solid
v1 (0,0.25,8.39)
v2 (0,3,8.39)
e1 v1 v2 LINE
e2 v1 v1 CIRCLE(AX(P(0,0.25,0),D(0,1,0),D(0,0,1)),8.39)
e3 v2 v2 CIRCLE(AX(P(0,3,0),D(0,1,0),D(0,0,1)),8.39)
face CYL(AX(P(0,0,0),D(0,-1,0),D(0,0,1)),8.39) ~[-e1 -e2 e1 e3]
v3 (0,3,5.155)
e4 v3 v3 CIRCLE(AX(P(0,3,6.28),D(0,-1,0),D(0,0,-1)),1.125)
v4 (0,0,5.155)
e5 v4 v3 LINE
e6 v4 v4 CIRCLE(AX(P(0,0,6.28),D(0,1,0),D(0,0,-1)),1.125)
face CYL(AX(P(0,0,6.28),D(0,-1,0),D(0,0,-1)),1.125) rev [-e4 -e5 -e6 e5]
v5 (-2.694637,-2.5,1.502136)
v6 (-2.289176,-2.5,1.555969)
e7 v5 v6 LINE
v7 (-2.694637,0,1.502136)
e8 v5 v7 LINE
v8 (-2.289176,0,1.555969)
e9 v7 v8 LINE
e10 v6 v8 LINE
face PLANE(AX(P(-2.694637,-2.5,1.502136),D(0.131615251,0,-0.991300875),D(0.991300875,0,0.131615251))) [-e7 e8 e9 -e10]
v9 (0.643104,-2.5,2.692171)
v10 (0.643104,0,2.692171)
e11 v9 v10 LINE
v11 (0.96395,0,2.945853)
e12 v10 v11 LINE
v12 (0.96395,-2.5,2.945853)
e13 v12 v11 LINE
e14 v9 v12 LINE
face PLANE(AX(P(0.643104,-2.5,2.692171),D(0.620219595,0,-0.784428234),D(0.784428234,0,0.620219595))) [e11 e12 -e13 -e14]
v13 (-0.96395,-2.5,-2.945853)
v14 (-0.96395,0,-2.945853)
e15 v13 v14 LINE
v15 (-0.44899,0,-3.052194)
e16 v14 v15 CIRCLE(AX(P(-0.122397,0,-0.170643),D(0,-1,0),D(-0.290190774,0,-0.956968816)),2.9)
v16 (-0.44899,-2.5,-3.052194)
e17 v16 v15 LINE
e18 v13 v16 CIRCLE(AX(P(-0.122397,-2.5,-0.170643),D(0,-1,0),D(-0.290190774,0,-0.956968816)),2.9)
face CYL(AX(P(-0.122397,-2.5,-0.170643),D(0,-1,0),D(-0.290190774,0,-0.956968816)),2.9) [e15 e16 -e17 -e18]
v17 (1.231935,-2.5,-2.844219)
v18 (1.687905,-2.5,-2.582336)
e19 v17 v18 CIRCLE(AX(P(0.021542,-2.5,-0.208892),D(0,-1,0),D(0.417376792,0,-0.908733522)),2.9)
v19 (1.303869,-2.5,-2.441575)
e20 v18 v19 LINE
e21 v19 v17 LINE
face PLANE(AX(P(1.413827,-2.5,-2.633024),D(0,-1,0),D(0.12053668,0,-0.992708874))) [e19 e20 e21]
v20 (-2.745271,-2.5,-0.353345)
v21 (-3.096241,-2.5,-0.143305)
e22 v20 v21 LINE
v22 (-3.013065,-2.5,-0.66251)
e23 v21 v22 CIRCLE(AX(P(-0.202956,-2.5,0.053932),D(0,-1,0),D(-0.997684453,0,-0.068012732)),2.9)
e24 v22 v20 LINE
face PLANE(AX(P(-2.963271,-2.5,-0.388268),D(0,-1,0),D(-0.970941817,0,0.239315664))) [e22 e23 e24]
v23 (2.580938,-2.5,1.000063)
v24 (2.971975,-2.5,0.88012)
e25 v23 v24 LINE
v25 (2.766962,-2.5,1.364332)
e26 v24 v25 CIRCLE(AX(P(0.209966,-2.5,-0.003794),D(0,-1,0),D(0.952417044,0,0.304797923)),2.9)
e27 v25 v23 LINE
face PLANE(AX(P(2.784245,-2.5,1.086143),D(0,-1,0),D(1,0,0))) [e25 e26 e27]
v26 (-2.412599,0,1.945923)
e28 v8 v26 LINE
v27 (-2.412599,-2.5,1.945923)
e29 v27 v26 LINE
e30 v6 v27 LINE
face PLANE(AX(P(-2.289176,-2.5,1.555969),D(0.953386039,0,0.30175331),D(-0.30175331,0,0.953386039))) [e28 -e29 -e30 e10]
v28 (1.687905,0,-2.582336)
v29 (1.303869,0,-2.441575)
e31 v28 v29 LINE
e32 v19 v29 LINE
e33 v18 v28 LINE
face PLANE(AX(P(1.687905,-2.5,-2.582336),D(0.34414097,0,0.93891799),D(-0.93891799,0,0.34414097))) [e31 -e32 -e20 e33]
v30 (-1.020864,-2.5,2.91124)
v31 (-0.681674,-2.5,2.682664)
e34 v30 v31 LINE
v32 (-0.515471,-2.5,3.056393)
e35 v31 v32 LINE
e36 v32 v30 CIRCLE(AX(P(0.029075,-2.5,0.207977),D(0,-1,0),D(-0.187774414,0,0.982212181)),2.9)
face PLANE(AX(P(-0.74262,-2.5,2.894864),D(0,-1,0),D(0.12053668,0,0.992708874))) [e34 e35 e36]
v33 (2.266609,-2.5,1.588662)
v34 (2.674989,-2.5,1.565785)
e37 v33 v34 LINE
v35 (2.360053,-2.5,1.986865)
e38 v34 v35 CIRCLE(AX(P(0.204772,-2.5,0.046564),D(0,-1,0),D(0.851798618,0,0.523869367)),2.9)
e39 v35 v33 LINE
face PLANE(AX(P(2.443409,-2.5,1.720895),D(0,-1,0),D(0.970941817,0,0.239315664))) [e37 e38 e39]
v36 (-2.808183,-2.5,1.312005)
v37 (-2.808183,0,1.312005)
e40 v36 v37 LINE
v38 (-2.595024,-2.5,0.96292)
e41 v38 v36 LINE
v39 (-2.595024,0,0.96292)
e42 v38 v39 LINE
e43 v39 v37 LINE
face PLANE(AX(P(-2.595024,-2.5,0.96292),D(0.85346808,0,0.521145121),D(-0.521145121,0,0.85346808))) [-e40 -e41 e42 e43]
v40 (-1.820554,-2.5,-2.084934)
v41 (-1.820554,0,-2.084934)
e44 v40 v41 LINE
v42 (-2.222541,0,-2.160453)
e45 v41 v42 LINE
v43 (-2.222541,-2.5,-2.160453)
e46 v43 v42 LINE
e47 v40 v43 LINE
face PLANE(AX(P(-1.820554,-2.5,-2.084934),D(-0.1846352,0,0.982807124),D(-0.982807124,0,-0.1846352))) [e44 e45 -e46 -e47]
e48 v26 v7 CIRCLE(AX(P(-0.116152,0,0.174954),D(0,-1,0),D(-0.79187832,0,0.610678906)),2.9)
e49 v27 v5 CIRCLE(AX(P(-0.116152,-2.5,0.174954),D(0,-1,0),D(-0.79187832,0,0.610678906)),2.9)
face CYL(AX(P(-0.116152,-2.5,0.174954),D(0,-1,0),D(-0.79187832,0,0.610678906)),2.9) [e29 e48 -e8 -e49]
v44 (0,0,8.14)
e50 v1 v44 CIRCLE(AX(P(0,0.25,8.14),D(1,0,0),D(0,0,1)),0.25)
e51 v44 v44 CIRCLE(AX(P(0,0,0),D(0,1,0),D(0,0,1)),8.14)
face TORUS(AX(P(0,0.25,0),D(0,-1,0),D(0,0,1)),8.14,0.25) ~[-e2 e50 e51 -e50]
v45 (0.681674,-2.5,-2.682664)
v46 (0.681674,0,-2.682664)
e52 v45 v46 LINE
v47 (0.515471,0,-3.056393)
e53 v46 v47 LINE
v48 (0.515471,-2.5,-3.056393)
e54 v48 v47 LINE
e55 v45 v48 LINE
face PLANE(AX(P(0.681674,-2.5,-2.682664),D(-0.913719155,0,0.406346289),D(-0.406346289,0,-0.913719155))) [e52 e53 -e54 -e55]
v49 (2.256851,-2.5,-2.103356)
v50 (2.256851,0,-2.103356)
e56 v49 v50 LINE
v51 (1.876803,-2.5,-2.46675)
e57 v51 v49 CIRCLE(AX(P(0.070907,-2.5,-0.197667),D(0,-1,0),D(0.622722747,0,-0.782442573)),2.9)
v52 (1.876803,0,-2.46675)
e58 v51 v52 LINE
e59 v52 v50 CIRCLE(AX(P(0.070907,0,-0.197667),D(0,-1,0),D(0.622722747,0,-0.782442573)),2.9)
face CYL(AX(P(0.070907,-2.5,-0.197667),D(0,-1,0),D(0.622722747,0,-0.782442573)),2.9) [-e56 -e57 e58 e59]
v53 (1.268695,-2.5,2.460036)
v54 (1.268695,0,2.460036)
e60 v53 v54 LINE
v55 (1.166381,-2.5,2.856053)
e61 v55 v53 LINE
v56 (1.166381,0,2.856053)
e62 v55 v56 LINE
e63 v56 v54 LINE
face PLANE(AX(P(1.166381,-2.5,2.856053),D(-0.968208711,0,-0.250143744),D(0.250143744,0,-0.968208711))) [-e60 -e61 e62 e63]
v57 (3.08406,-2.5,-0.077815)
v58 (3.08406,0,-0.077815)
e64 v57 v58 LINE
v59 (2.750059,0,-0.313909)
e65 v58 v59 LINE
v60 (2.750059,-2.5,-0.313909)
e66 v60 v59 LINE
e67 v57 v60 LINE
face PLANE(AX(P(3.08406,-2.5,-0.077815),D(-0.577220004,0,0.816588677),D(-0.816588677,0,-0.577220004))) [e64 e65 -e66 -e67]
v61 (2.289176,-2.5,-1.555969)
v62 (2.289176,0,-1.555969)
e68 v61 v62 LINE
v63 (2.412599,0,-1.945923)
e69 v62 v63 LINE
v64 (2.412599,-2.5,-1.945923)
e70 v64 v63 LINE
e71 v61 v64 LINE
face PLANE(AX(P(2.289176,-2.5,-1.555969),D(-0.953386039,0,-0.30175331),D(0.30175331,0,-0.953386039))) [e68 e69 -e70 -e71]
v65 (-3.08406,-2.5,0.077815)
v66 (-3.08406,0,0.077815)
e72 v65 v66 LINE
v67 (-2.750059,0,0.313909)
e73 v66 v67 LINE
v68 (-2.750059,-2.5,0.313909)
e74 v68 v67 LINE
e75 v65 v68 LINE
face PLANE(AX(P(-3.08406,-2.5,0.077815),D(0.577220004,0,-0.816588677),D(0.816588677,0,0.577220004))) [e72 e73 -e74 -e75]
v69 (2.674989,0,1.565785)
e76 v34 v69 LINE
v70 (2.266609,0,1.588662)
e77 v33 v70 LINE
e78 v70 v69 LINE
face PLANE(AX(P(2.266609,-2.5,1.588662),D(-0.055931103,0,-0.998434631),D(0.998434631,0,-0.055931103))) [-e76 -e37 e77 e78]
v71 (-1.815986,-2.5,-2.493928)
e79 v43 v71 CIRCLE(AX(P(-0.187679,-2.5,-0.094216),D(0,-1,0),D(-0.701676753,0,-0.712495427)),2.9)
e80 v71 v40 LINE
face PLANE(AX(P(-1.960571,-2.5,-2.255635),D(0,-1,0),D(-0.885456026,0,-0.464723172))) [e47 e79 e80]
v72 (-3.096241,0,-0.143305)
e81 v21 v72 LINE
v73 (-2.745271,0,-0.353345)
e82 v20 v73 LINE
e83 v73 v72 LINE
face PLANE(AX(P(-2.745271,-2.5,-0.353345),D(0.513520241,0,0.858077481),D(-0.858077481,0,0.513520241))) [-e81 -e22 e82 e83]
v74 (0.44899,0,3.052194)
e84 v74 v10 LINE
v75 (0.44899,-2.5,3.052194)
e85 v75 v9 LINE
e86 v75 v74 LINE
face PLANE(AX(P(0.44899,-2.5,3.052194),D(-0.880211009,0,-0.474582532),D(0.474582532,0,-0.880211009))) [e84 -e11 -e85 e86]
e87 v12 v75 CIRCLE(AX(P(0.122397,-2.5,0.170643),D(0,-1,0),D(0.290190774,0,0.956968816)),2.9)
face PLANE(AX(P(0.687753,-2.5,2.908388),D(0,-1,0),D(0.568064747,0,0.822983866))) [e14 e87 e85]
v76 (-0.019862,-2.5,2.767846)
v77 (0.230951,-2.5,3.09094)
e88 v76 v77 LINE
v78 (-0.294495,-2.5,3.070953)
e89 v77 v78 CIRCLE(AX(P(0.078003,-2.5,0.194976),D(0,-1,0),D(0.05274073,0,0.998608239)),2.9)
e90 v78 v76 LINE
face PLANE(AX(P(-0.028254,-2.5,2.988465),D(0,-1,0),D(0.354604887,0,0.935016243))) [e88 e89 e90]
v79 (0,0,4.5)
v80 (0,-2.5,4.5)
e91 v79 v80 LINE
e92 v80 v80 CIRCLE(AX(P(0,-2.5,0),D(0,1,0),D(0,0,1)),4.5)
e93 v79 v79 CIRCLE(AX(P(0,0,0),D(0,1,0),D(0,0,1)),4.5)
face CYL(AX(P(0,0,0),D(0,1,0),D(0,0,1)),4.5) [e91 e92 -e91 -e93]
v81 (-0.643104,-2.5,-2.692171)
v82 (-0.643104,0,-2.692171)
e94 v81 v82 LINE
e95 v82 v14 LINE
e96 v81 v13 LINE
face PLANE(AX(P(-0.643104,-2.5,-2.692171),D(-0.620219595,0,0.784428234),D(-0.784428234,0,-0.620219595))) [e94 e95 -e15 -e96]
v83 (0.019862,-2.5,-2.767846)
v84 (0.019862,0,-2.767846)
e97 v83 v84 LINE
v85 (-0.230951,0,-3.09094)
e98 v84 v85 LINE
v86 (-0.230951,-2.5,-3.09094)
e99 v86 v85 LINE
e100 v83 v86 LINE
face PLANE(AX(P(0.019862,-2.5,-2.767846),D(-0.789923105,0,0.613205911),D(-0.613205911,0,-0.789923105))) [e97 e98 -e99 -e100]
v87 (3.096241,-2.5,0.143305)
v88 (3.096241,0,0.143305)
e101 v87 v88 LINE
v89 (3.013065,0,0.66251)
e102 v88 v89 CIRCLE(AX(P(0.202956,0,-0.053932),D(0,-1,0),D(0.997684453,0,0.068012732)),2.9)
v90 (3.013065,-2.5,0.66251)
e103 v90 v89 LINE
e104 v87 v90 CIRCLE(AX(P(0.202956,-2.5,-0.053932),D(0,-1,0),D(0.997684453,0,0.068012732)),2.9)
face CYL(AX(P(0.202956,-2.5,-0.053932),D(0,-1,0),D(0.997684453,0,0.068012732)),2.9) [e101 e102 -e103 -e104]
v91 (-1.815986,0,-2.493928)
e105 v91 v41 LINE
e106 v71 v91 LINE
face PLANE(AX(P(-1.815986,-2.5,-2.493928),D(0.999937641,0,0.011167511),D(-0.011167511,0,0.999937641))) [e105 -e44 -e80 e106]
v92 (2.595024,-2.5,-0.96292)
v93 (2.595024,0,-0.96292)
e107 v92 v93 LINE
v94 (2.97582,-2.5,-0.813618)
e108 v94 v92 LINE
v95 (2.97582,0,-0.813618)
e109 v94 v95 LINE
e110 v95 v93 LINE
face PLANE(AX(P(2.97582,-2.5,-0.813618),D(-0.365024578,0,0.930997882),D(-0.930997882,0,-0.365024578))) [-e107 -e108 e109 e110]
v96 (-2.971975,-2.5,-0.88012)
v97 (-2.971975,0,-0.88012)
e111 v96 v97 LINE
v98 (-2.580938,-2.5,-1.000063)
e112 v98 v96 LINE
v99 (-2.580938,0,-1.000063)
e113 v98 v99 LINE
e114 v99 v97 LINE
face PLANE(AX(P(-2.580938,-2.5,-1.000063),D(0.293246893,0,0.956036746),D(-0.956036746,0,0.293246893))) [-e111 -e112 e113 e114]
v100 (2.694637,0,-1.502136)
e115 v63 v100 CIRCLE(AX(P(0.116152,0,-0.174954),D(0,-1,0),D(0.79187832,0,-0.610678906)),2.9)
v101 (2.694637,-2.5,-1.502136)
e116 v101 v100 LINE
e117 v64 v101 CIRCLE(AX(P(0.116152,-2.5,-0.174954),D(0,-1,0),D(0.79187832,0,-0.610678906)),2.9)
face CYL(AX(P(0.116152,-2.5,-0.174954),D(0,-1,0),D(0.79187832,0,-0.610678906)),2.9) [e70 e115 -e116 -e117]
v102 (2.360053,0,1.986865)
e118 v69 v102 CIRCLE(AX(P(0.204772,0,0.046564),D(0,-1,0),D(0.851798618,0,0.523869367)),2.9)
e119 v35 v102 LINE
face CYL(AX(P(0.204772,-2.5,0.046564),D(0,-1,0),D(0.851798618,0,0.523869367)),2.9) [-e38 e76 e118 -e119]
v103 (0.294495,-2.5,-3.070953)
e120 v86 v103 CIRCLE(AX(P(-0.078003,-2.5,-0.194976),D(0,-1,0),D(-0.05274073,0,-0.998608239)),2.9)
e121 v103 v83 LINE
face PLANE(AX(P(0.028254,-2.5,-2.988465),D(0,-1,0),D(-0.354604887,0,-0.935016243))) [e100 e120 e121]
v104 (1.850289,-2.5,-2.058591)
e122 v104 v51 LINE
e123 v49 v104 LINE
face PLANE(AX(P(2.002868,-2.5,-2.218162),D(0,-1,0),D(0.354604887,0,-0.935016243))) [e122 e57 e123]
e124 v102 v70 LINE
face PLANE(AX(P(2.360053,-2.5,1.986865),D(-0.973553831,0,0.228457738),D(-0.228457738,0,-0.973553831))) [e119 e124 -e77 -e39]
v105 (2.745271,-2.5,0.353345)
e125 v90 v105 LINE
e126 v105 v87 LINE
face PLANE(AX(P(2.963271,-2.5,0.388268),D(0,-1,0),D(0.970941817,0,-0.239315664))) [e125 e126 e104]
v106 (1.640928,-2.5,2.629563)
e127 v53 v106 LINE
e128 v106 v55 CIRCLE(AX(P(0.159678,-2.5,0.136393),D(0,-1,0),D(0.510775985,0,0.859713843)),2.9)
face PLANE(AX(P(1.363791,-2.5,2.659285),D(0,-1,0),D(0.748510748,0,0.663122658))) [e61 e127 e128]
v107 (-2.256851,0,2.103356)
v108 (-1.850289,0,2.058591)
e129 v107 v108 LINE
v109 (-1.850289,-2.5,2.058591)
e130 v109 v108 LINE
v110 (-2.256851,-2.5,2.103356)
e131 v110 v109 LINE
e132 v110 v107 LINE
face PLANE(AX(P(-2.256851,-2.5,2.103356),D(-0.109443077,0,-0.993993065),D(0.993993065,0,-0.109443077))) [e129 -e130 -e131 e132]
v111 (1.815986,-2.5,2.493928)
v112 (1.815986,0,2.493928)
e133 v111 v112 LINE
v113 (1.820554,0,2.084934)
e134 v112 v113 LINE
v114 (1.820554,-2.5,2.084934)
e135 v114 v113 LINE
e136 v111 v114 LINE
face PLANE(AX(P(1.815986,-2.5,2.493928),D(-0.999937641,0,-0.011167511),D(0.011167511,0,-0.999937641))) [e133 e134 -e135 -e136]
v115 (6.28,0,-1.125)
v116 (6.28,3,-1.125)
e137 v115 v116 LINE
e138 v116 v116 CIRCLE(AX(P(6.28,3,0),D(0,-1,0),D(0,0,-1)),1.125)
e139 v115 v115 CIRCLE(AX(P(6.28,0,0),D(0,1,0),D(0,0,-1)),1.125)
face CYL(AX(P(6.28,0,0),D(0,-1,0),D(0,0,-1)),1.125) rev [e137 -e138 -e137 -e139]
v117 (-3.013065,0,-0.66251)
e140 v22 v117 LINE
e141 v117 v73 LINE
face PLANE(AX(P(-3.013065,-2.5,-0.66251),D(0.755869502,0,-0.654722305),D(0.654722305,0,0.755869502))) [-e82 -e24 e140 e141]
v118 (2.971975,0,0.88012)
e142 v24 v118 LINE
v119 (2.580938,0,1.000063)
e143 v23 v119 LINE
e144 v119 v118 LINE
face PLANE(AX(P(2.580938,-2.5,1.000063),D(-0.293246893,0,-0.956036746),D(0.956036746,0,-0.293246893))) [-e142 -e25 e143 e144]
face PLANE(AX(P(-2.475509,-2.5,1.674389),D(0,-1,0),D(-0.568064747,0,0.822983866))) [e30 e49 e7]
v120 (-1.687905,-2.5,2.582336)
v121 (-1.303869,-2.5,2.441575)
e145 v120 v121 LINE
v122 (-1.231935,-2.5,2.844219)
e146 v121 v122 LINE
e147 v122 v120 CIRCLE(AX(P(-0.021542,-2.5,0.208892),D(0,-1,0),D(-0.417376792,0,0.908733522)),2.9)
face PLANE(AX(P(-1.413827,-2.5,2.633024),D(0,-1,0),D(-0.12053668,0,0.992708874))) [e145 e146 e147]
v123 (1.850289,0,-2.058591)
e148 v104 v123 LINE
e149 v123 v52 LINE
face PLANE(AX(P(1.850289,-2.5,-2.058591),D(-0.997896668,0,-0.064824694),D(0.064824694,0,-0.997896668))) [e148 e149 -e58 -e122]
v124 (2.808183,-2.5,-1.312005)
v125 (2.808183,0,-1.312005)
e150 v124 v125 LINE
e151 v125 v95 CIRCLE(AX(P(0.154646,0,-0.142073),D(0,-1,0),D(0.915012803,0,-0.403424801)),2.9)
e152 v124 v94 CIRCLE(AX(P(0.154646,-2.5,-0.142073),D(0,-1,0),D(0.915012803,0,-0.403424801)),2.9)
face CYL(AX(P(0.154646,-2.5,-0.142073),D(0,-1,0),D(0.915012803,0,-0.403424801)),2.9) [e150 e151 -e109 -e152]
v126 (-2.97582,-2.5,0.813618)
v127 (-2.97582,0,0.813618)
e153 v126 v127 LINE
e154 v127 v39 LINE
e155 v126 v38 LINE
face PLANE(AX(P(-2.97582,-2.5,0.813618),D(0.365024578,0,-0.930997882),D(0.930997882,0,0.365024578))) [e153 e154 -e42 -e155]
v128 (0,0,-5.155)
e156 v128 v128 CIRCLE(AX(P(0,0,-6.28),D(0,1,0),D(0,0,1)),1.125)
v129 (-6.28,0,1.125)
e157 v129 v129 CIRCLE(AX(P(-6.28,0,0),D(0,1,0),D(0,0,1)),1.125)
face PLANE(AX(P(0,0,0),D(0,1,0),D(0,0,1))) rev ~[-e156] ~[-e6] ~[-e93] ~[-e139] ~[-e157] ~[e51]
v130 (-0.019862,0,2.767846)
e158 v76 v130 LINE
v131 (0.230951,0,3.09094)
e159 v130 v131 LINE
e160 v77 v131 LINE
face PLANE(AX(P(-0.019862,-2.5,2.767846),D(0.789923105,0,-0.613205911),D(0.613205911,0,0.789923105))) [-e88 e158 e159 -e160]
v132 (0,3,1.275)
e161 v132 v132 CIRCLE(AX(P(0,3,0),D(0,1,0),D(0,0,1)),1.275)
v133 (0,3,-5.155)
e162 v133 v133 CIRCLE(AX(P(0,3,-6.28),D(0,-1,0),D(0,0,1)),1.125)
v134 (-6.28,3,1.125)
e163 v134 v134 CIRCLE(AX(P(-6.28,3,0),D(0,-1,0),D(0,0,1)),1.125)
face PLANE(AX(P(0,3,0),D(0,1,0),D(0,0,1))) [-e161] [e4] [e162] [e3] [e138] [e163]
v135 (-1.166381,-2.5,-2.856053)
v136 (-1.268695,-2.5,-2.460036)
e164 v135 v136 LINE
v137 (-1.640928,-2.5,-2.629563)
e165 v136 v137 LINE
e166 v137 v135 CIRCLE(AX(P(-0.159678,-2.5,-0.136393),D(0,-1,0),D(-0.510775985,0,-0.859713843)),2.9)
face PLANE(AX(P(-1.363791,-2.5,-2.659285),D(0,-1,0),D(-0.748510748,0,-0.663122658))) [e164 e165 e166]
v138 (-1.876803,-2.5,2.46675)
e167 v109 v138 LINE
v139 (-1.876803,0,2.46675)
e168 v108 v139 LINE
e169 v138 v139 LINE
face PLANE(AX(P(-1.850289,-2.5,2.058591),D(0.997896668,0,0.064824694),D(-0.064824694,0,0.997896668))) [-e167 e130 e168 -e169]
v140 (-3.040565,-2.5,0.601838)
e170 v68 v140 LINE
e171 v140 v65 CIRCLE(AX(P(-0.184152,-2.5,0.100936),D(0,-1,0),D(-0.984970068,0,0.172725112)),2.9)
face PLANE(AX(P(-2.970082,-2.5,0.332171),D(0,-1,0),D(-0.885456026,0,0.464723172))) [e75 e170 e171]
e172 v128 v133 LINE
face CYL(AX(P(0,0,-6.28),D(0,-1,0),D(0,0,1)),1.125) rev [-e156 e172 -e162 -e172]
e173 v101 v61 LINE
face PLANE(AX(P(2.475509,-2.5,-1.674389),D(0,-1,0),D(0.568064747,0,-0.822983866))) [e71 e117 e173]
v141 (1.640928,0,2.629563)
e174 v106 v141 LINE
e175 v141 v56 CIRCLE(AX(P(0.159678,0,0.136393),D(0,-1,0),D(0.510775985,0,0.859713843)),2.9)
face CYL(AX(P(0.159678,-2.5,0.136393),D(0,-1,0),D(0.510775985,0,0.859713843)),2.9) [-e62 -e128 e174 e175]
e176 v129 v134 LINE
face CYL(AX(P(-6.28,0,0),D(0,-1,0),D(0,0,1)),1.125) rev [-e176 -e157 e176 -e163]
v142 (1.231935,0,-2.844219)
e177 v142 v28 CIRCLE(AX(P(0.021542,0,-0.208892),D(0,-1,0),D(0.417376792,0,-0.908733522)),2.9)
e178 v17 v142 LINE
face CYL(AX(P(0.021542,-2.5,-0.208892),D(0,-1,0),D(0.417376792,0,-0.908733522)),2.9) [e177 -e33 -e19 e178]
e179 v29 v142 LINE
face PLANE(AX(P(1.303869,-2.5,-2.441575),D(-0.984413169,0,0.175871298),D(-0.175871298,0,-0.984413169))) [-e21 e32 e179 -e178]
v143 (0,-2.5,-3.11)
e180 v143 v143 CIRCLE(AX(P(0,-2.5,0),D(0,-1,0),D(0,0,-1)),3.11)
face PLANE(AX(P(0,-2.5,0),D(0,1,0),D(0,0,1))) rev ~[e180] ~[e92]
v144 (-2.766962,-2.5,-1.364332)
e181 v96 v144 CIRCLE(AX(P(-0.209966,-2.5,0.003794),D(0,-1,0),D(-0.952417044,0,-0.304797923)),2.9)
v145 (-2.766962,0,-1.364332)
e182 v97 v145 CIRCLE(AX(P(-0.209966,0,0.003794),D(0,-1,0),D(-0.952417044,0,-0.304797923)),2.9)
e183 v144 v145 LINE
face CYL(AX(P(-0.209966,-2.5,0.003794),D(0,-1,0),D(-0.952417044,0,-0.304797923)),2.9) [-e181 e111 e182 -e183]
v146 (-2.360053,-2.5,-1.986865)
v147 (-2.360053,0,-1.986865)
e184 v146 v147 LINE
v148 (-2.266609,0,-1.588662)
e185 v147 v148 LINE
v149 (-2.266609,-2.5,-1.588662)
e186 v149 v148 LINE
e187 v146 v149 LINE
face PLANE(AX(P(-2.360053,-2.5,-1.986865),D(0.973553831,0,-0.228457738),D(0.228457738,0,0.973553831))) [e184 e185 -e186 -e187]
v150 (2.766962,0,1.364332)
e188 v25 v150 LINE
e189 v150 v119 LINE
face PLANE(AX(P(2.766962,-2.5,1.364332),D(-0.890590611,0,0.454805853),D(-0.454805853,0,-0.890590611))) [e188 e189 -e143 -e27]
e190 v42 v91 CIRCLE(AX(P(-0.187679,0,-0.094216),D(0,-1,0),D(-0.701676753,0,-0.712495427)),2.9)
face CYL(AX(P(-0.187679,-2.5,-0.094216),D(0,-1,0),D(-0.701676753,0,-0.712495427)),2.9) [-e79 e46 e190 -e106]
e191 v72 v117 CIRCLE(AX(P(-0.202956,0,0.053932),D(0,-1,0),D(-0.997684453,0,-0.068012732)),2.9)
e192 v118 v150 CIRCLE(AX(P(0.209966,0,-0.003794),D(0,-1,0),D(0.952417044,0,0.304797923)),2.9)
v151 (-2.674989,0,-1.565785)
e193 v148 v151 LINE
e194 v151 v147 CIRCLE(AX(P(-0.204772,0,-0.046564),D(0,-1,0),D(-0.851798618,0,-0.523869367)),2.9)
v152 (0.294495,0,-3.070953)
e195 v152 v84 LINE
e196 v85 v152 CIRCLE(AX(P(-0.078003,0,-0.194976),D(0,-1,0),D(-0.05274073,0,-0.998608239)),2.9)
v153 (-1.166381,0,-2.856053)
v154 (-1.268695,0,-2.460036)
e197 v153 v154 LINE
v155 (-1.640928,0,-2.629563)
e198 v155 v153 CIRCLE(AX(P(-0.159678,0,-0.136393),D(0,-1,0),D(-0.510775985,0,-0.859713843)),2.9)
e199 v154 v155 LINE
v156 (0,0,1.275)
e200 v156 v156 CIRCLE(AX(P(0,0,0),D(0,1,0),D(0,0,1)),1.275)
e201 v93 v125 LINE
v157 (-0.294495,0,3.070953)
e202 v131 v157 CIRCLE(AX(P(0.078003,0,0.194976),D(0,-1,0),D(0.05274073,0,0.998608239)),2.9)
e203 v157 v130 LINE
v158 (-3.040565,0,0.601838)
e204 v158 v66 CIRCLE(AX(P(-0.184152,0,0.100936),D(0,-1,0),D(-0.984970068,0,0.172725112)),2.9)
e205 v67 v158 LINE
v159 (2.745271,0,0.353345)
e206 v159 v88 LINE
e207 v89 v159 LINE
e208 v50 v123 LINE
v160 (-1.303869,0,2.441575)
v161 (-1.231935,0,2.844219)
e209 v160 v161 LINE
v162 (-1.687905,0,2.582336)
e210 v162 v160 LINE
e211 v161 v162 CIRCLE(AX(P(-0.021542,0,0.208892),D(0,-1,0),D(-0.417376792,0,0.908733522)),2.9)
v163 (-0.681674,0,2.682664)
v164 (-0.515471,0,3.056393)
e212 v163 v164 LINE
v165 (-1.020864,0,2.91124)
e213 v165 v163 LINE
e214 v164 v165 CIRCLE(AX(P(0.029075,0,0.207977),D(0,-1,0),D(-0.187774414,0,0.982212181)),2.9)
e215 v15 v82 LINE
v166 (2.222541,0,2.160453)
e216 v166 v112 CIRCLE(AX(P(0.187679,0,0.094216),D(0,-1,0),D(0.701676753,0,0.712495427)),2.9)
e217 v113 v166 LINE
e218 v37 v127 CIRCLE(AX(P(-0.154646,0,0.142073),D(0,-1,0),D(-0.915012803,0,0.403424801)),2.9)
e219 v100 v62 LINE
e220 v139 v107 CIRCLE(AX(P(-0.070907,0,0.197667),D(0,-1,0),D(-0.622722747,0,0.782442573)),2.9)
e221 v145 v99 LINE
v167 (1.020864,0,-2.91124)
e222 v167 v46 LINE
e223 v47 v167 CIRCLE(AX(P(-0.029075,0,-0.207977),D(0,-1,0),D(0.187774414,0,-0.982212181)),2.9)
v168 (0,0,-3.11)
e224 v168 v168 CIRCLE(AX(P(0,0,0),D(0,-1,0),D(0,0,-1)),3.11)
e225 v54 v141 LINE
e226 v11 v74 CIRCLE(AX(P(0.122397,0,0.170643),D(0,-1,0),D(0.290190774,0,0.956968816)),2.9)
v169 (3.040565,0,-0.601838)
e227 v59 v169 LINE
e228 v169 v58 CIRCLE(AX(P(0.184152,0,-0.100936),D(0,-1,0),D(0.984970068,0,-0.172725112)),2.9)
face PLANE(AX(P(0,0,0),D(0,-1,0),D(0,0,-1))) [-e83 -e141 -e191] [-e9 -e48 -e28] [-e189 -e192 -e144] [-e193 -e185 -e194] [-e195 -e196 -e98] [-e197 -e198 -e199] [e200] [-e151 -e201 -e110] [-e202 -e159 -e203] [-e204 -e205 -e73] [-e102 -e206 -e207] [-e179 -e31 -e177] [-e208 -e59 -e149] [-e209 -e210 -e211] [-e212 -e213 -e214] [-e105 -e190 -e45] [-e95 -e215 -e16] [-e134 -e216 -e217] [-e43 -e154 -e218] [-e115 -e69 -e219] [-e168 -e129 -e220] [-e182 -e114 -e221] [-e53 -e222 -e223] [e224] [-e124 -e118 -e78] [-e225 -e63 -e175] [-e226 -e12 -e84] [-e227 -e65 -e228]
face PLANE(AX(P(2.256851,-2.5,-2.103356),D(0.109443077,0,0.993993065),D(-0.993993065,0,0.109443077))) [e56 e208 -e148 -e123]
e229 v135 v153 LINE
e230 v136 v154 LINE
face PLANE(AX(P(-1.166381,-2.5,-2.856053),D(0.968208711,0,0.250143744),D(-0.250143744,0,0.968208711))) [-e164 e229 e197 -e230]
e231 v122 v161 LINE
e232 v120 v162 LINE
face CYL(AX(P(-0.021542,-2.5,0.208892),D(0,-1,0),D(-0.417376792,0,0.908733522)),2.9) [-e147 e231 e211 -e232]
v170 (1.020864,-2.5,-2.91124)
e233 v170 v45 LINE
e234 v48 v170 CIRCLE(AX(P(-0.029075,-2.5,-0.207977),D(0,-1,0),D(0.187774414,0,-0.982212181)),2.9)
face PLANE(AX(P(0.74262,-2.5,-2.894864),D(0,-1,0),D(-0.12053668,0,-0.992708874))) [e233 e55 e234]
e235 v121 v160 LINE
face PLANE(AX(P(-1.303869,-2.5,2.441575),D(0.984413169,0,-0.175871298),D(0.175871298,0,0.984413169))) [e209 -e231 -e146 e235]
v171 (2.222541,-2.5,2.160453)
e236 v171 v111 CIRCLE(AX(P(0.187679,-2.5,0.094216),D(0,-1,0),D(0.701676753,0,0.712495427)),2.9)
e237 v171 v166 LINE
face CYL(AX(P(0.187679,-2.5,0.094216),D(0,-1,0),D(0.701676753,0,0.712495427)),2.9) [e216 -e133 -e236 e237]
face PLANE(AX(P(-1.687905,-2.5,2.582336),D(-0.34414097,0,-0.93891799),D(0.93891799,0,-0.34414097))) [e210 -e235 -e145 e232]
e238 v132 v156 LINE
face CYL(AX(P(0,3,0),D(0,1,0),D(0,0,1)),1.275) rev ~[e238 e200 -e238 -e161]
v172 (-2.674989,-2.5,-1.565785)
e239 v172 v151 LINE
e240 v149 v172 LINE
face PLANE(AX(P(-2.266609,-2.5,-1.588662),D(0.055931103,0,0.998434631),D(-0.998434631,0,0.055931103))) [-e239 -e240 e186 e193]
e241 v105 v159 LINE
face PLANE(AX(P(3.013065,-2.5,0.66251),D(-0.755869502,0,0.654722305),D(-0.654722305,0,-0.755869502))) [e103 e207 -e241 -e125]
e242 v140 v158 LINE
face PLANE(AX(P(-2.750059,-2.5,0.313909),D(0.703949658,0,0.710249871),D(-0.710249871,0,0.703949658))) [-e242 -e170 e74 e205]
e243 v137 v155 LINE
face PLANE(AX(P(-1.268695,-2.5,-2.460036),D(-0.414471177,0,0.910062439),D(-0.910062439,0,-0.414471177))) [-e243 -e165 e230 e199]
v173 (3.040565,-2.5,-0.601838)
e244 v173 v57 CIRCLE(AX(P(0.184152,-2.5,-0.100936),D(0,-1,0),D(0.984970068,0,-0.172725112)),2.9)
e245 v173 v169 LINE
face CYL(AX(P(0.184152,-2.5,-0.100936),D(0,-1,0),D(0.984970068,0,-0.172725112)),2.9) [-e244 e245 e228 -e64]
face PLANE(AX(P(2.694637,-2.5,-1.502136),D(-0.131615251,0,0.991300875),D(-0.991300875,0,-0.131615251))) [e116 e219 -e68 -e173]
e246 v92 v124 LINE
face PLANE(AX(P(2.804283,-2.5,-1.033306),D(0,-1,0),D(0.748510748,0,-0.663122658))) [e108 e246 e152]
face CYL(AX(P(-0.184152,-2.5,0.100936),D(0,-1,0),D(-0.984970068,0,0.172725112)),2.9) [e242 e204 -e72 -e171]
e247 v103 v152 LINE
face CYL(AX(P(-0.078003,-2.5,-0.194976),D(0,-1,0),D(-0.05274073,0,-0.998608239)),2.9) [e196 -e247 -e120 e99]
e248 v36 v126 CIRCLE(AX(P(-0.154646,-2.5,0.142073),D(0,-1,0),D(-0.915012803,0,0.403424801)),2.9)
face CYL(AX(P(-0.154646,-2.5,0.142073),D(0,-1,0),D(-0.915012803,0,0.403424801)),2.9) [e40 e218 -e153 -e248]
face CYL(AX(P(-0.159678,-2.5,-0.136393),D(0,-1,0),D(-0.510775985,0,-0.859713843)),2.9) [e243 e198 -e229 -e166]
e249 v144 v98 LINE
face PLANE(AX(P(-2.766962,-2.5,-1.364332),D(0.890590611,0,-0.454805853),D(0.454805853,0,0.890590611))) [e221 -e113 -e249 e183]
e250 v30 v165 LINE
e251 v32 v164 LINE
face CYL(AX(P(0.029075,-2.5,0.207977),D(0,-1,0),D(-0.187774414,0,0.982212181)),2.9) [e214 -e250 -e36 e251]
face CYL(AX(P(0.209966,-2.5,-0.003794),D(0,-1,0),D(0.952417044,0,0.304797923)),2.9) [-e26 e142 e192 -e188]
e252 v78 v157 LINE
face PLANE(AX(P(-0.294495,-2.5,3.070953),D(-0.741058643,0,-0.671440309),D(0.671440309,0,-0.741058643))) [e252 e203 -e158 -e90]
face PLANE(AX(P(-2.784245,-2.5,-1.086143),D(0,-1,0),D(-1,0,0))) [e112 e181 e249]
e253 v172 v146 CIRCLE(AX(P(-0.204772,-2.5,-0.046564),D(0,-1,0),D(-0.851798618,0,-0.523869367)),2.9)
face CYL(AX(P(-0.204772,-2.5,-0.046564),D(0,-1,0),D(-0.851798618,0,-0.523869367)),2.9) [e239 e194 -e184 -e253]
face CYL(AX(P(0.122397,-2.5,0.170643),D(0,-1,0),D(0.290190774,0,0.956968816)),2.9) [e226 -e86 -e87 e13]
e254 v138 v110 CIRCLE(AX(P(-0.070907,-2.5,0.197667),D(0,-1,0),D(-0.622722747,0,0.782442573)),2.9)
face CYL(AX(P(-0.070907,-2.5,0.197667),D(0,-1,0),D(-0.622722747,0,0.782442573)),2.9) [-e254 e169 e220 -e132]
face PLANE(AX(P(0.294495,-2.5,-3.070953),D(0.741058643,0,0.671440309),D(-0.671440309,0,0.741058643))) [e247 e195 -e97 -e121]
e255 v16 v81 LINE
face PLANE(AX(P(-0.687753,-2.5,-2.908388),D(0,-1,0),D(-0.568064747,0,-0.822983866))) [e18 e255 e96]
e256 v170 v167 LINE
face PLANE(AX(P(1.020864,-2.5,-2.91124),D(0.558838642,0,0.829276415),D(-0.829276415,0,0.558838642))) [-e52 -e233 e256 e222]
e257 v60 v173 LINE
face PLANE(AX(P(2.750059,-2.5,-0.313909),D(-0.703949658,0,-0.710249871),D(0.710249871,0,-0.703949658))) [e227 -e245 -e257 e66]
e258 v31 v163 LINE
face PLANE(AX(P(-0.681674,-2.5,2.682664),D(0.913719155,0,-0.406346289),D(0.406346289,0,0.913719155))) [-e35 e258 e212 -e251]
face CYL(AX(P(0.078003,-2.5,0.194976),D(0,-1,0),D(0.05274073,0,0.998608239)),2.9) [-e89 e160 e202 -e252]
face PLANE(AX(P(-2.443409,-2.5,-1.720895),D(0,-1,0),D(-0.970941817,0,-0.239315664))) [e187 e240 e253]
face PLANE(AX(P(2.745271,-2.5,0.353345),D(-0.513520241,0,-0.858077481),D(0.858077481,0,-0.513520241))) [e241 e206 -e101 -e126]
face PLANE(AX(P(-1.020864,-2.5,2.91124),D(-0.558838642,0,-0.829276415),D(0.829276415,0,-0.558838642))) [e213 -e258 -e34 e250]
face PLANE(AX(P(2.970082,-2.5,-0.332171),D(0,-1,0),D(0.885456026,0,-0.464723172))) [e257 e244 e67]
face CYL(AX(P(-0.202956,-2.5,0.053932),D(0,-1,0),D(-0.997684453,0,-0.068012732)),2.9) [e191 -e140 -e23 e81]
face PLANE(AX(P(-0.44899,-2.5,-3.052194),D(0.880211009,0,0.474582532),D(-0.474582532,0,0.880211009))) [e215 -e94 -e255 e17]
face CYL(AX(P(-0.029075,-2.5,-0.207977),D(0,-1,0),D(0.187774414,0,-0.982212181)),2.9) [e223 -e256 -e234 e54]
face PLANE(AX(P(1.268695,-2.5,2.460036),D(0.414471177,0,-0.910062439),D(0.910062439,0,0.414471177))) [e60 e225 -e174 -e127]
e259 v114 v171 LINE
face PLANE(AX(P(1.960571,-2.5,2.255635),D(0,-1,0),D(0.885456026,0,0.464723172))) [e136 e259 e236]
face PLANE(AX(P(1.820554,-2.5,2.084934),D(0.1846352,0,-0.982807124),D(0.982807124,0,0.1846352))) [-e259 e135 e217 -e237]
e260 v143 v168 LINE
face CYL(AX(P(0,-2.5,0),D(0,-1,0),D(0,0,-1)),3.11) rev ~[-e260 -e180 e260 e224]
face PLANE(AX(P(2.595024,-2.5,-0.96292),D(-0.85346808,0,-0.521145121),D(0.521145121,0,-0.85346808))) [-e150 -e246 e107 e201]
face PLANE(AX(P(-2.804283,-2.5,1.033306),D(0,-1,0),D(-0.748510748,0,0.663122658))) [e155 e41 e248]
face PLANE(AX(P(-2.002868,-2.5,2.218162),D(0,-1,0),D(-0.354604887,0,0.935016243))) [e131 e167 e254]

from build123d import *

# Parameters (mm, degrees)
SKETCH1_R           = 8.39
BOSS_EXTRUDE1_DEPTH = 3
SKETCH2_R           = 4.5
BOSS_EXTRUDE2_DEPTH = 2.5
SKETCH3_R           = 1.125
CUT_EXTRUDE1_DEPTH  = 13.238635545
FILLET1_R           = 0.25
SKETCH6_R           = 1.275
CUT_EXTRUDE2_DEPTH  = 14.078004435
SKETCH7_R           = 3.11
CUT_EXTRUDE3_DEPTH  = 2.5
BOSS_EXTRUDE4_DEPTH = 2.5
CIRPATTERN1_COUNT   = 26


with BuildPart() as part:
    # Sketch1 → Boss-Extrude1 (new body)
    with BuildSketch(Plane(origin=(0, 0, 0), x_dir=(1, 0, 0), z_dir=(0, 1, 0))):
        with Locations(Location((0, 0, 0), (0, 0, 270))):
            Circle(SKETCH1_R)
    extrude(amount=BOSS_EXTRUDE1_DEPTH)

    # Sketch2 → Boss-Extrude2 (add)
    with BuildSketch(Plane(origin=(0, 0, 0), x_dir=(1, 0, 0), z_dir=(0, 1, 0))):
        with Locations(Location((0, 0, 0), (0, 0, 270))):
            Circle(SKETCH2_R)
    extrude(amount=-BOSS_EXTRUDE2_DEPTH)

    # Sketch3 → Cut-Extrude1 (cut, through all)
    with BuildSketch(Plane(origin=(0, 0, 0), x_dir=(1, 0, 0), z_dir=(0, 1, 0))):
        with Locations(Location((0, 6.28, 0), (0, 0, 270))):
            Circle(SKETCH3_R)
        with Locations(Location((-6.28, 0, 0), (0, 0, 270))):
            Circle(SKETCH3_R)
        with Locations(Location((0, -6.28, 0), (0, 0, 90))):
            Circle(SKETCH3_R)
        with Locations(Location((6.28, 0, 0), (0, 0, 90))):
            Circle(SKETCH3_R)
    extrude(amount=CUT_EXTRUDE1_DEPTH, mode=Mode.SUBTRACT)

    # Fillet1
    fillet1_edges = [part.edges().sort_by_distance(p)[0] for p in [
        (0, 0, -8.39),
    ]]
    fillet(fillet1_edges, radius=FILLET1_R)

    # Sketch6 → Cut-Extrude2 (cut, through all)
    with BuildSketch(Plane(origin=(0, 3, 0), x_dir=(1, 0, 0), z_dir=(0, 1, 0))):
        with Locations(Location((0, 0, 0), (0, 0, 270))):
            Circle(SKETCH6_R)
    extrude(amount=-CUT_EXTRUDE2_DEPTH, mode=Mode.SUBTRACT)

    # Sketch7 → Cut-Extrude3 (cut)
    with BuildSketch(Plane.XZ.offset(2.5)):
        with Locations(Location((0, 0, 0), (0, 0, 270))):
            Circle(SKETCH7_R)
    extrude(amount=-CUT_EXTRUDE3_DEPTH, mode=Mode.SUBTRACT)

    # Sketch8 → Boss-Extrude4 (add)
    with BuildSketch(Plane.XZ.offset(2.5)):
        with BuildLine():
            Line((2.580937562, 1.000063428), (2.97197515, 0.880119756))
            ThreePointArc((2.97197515, 0.880119756), (2.88046583, 1.126882202), (2.766961985, 1.364332277))
            Line((2.766961985, 1.364332277), (2.580937562, 1.000063428))
        make_face()
    boss_extrude4 = extrude(amount=-BOSS_EXTRUDE4_DEPTH)

    # CirPattern1: Boss-Extrude4 ×26 about axis
    cirpattern1_axis = Axis((0, 0, 0), (0, 1, 0))
    for i in range(1, CIRPATTERN1_COUNT):
        add(boss_extrude4.rotate(cirpattern1_axis, i * 360 / CIRPATTERN1_COUNT))


solid = part.part
